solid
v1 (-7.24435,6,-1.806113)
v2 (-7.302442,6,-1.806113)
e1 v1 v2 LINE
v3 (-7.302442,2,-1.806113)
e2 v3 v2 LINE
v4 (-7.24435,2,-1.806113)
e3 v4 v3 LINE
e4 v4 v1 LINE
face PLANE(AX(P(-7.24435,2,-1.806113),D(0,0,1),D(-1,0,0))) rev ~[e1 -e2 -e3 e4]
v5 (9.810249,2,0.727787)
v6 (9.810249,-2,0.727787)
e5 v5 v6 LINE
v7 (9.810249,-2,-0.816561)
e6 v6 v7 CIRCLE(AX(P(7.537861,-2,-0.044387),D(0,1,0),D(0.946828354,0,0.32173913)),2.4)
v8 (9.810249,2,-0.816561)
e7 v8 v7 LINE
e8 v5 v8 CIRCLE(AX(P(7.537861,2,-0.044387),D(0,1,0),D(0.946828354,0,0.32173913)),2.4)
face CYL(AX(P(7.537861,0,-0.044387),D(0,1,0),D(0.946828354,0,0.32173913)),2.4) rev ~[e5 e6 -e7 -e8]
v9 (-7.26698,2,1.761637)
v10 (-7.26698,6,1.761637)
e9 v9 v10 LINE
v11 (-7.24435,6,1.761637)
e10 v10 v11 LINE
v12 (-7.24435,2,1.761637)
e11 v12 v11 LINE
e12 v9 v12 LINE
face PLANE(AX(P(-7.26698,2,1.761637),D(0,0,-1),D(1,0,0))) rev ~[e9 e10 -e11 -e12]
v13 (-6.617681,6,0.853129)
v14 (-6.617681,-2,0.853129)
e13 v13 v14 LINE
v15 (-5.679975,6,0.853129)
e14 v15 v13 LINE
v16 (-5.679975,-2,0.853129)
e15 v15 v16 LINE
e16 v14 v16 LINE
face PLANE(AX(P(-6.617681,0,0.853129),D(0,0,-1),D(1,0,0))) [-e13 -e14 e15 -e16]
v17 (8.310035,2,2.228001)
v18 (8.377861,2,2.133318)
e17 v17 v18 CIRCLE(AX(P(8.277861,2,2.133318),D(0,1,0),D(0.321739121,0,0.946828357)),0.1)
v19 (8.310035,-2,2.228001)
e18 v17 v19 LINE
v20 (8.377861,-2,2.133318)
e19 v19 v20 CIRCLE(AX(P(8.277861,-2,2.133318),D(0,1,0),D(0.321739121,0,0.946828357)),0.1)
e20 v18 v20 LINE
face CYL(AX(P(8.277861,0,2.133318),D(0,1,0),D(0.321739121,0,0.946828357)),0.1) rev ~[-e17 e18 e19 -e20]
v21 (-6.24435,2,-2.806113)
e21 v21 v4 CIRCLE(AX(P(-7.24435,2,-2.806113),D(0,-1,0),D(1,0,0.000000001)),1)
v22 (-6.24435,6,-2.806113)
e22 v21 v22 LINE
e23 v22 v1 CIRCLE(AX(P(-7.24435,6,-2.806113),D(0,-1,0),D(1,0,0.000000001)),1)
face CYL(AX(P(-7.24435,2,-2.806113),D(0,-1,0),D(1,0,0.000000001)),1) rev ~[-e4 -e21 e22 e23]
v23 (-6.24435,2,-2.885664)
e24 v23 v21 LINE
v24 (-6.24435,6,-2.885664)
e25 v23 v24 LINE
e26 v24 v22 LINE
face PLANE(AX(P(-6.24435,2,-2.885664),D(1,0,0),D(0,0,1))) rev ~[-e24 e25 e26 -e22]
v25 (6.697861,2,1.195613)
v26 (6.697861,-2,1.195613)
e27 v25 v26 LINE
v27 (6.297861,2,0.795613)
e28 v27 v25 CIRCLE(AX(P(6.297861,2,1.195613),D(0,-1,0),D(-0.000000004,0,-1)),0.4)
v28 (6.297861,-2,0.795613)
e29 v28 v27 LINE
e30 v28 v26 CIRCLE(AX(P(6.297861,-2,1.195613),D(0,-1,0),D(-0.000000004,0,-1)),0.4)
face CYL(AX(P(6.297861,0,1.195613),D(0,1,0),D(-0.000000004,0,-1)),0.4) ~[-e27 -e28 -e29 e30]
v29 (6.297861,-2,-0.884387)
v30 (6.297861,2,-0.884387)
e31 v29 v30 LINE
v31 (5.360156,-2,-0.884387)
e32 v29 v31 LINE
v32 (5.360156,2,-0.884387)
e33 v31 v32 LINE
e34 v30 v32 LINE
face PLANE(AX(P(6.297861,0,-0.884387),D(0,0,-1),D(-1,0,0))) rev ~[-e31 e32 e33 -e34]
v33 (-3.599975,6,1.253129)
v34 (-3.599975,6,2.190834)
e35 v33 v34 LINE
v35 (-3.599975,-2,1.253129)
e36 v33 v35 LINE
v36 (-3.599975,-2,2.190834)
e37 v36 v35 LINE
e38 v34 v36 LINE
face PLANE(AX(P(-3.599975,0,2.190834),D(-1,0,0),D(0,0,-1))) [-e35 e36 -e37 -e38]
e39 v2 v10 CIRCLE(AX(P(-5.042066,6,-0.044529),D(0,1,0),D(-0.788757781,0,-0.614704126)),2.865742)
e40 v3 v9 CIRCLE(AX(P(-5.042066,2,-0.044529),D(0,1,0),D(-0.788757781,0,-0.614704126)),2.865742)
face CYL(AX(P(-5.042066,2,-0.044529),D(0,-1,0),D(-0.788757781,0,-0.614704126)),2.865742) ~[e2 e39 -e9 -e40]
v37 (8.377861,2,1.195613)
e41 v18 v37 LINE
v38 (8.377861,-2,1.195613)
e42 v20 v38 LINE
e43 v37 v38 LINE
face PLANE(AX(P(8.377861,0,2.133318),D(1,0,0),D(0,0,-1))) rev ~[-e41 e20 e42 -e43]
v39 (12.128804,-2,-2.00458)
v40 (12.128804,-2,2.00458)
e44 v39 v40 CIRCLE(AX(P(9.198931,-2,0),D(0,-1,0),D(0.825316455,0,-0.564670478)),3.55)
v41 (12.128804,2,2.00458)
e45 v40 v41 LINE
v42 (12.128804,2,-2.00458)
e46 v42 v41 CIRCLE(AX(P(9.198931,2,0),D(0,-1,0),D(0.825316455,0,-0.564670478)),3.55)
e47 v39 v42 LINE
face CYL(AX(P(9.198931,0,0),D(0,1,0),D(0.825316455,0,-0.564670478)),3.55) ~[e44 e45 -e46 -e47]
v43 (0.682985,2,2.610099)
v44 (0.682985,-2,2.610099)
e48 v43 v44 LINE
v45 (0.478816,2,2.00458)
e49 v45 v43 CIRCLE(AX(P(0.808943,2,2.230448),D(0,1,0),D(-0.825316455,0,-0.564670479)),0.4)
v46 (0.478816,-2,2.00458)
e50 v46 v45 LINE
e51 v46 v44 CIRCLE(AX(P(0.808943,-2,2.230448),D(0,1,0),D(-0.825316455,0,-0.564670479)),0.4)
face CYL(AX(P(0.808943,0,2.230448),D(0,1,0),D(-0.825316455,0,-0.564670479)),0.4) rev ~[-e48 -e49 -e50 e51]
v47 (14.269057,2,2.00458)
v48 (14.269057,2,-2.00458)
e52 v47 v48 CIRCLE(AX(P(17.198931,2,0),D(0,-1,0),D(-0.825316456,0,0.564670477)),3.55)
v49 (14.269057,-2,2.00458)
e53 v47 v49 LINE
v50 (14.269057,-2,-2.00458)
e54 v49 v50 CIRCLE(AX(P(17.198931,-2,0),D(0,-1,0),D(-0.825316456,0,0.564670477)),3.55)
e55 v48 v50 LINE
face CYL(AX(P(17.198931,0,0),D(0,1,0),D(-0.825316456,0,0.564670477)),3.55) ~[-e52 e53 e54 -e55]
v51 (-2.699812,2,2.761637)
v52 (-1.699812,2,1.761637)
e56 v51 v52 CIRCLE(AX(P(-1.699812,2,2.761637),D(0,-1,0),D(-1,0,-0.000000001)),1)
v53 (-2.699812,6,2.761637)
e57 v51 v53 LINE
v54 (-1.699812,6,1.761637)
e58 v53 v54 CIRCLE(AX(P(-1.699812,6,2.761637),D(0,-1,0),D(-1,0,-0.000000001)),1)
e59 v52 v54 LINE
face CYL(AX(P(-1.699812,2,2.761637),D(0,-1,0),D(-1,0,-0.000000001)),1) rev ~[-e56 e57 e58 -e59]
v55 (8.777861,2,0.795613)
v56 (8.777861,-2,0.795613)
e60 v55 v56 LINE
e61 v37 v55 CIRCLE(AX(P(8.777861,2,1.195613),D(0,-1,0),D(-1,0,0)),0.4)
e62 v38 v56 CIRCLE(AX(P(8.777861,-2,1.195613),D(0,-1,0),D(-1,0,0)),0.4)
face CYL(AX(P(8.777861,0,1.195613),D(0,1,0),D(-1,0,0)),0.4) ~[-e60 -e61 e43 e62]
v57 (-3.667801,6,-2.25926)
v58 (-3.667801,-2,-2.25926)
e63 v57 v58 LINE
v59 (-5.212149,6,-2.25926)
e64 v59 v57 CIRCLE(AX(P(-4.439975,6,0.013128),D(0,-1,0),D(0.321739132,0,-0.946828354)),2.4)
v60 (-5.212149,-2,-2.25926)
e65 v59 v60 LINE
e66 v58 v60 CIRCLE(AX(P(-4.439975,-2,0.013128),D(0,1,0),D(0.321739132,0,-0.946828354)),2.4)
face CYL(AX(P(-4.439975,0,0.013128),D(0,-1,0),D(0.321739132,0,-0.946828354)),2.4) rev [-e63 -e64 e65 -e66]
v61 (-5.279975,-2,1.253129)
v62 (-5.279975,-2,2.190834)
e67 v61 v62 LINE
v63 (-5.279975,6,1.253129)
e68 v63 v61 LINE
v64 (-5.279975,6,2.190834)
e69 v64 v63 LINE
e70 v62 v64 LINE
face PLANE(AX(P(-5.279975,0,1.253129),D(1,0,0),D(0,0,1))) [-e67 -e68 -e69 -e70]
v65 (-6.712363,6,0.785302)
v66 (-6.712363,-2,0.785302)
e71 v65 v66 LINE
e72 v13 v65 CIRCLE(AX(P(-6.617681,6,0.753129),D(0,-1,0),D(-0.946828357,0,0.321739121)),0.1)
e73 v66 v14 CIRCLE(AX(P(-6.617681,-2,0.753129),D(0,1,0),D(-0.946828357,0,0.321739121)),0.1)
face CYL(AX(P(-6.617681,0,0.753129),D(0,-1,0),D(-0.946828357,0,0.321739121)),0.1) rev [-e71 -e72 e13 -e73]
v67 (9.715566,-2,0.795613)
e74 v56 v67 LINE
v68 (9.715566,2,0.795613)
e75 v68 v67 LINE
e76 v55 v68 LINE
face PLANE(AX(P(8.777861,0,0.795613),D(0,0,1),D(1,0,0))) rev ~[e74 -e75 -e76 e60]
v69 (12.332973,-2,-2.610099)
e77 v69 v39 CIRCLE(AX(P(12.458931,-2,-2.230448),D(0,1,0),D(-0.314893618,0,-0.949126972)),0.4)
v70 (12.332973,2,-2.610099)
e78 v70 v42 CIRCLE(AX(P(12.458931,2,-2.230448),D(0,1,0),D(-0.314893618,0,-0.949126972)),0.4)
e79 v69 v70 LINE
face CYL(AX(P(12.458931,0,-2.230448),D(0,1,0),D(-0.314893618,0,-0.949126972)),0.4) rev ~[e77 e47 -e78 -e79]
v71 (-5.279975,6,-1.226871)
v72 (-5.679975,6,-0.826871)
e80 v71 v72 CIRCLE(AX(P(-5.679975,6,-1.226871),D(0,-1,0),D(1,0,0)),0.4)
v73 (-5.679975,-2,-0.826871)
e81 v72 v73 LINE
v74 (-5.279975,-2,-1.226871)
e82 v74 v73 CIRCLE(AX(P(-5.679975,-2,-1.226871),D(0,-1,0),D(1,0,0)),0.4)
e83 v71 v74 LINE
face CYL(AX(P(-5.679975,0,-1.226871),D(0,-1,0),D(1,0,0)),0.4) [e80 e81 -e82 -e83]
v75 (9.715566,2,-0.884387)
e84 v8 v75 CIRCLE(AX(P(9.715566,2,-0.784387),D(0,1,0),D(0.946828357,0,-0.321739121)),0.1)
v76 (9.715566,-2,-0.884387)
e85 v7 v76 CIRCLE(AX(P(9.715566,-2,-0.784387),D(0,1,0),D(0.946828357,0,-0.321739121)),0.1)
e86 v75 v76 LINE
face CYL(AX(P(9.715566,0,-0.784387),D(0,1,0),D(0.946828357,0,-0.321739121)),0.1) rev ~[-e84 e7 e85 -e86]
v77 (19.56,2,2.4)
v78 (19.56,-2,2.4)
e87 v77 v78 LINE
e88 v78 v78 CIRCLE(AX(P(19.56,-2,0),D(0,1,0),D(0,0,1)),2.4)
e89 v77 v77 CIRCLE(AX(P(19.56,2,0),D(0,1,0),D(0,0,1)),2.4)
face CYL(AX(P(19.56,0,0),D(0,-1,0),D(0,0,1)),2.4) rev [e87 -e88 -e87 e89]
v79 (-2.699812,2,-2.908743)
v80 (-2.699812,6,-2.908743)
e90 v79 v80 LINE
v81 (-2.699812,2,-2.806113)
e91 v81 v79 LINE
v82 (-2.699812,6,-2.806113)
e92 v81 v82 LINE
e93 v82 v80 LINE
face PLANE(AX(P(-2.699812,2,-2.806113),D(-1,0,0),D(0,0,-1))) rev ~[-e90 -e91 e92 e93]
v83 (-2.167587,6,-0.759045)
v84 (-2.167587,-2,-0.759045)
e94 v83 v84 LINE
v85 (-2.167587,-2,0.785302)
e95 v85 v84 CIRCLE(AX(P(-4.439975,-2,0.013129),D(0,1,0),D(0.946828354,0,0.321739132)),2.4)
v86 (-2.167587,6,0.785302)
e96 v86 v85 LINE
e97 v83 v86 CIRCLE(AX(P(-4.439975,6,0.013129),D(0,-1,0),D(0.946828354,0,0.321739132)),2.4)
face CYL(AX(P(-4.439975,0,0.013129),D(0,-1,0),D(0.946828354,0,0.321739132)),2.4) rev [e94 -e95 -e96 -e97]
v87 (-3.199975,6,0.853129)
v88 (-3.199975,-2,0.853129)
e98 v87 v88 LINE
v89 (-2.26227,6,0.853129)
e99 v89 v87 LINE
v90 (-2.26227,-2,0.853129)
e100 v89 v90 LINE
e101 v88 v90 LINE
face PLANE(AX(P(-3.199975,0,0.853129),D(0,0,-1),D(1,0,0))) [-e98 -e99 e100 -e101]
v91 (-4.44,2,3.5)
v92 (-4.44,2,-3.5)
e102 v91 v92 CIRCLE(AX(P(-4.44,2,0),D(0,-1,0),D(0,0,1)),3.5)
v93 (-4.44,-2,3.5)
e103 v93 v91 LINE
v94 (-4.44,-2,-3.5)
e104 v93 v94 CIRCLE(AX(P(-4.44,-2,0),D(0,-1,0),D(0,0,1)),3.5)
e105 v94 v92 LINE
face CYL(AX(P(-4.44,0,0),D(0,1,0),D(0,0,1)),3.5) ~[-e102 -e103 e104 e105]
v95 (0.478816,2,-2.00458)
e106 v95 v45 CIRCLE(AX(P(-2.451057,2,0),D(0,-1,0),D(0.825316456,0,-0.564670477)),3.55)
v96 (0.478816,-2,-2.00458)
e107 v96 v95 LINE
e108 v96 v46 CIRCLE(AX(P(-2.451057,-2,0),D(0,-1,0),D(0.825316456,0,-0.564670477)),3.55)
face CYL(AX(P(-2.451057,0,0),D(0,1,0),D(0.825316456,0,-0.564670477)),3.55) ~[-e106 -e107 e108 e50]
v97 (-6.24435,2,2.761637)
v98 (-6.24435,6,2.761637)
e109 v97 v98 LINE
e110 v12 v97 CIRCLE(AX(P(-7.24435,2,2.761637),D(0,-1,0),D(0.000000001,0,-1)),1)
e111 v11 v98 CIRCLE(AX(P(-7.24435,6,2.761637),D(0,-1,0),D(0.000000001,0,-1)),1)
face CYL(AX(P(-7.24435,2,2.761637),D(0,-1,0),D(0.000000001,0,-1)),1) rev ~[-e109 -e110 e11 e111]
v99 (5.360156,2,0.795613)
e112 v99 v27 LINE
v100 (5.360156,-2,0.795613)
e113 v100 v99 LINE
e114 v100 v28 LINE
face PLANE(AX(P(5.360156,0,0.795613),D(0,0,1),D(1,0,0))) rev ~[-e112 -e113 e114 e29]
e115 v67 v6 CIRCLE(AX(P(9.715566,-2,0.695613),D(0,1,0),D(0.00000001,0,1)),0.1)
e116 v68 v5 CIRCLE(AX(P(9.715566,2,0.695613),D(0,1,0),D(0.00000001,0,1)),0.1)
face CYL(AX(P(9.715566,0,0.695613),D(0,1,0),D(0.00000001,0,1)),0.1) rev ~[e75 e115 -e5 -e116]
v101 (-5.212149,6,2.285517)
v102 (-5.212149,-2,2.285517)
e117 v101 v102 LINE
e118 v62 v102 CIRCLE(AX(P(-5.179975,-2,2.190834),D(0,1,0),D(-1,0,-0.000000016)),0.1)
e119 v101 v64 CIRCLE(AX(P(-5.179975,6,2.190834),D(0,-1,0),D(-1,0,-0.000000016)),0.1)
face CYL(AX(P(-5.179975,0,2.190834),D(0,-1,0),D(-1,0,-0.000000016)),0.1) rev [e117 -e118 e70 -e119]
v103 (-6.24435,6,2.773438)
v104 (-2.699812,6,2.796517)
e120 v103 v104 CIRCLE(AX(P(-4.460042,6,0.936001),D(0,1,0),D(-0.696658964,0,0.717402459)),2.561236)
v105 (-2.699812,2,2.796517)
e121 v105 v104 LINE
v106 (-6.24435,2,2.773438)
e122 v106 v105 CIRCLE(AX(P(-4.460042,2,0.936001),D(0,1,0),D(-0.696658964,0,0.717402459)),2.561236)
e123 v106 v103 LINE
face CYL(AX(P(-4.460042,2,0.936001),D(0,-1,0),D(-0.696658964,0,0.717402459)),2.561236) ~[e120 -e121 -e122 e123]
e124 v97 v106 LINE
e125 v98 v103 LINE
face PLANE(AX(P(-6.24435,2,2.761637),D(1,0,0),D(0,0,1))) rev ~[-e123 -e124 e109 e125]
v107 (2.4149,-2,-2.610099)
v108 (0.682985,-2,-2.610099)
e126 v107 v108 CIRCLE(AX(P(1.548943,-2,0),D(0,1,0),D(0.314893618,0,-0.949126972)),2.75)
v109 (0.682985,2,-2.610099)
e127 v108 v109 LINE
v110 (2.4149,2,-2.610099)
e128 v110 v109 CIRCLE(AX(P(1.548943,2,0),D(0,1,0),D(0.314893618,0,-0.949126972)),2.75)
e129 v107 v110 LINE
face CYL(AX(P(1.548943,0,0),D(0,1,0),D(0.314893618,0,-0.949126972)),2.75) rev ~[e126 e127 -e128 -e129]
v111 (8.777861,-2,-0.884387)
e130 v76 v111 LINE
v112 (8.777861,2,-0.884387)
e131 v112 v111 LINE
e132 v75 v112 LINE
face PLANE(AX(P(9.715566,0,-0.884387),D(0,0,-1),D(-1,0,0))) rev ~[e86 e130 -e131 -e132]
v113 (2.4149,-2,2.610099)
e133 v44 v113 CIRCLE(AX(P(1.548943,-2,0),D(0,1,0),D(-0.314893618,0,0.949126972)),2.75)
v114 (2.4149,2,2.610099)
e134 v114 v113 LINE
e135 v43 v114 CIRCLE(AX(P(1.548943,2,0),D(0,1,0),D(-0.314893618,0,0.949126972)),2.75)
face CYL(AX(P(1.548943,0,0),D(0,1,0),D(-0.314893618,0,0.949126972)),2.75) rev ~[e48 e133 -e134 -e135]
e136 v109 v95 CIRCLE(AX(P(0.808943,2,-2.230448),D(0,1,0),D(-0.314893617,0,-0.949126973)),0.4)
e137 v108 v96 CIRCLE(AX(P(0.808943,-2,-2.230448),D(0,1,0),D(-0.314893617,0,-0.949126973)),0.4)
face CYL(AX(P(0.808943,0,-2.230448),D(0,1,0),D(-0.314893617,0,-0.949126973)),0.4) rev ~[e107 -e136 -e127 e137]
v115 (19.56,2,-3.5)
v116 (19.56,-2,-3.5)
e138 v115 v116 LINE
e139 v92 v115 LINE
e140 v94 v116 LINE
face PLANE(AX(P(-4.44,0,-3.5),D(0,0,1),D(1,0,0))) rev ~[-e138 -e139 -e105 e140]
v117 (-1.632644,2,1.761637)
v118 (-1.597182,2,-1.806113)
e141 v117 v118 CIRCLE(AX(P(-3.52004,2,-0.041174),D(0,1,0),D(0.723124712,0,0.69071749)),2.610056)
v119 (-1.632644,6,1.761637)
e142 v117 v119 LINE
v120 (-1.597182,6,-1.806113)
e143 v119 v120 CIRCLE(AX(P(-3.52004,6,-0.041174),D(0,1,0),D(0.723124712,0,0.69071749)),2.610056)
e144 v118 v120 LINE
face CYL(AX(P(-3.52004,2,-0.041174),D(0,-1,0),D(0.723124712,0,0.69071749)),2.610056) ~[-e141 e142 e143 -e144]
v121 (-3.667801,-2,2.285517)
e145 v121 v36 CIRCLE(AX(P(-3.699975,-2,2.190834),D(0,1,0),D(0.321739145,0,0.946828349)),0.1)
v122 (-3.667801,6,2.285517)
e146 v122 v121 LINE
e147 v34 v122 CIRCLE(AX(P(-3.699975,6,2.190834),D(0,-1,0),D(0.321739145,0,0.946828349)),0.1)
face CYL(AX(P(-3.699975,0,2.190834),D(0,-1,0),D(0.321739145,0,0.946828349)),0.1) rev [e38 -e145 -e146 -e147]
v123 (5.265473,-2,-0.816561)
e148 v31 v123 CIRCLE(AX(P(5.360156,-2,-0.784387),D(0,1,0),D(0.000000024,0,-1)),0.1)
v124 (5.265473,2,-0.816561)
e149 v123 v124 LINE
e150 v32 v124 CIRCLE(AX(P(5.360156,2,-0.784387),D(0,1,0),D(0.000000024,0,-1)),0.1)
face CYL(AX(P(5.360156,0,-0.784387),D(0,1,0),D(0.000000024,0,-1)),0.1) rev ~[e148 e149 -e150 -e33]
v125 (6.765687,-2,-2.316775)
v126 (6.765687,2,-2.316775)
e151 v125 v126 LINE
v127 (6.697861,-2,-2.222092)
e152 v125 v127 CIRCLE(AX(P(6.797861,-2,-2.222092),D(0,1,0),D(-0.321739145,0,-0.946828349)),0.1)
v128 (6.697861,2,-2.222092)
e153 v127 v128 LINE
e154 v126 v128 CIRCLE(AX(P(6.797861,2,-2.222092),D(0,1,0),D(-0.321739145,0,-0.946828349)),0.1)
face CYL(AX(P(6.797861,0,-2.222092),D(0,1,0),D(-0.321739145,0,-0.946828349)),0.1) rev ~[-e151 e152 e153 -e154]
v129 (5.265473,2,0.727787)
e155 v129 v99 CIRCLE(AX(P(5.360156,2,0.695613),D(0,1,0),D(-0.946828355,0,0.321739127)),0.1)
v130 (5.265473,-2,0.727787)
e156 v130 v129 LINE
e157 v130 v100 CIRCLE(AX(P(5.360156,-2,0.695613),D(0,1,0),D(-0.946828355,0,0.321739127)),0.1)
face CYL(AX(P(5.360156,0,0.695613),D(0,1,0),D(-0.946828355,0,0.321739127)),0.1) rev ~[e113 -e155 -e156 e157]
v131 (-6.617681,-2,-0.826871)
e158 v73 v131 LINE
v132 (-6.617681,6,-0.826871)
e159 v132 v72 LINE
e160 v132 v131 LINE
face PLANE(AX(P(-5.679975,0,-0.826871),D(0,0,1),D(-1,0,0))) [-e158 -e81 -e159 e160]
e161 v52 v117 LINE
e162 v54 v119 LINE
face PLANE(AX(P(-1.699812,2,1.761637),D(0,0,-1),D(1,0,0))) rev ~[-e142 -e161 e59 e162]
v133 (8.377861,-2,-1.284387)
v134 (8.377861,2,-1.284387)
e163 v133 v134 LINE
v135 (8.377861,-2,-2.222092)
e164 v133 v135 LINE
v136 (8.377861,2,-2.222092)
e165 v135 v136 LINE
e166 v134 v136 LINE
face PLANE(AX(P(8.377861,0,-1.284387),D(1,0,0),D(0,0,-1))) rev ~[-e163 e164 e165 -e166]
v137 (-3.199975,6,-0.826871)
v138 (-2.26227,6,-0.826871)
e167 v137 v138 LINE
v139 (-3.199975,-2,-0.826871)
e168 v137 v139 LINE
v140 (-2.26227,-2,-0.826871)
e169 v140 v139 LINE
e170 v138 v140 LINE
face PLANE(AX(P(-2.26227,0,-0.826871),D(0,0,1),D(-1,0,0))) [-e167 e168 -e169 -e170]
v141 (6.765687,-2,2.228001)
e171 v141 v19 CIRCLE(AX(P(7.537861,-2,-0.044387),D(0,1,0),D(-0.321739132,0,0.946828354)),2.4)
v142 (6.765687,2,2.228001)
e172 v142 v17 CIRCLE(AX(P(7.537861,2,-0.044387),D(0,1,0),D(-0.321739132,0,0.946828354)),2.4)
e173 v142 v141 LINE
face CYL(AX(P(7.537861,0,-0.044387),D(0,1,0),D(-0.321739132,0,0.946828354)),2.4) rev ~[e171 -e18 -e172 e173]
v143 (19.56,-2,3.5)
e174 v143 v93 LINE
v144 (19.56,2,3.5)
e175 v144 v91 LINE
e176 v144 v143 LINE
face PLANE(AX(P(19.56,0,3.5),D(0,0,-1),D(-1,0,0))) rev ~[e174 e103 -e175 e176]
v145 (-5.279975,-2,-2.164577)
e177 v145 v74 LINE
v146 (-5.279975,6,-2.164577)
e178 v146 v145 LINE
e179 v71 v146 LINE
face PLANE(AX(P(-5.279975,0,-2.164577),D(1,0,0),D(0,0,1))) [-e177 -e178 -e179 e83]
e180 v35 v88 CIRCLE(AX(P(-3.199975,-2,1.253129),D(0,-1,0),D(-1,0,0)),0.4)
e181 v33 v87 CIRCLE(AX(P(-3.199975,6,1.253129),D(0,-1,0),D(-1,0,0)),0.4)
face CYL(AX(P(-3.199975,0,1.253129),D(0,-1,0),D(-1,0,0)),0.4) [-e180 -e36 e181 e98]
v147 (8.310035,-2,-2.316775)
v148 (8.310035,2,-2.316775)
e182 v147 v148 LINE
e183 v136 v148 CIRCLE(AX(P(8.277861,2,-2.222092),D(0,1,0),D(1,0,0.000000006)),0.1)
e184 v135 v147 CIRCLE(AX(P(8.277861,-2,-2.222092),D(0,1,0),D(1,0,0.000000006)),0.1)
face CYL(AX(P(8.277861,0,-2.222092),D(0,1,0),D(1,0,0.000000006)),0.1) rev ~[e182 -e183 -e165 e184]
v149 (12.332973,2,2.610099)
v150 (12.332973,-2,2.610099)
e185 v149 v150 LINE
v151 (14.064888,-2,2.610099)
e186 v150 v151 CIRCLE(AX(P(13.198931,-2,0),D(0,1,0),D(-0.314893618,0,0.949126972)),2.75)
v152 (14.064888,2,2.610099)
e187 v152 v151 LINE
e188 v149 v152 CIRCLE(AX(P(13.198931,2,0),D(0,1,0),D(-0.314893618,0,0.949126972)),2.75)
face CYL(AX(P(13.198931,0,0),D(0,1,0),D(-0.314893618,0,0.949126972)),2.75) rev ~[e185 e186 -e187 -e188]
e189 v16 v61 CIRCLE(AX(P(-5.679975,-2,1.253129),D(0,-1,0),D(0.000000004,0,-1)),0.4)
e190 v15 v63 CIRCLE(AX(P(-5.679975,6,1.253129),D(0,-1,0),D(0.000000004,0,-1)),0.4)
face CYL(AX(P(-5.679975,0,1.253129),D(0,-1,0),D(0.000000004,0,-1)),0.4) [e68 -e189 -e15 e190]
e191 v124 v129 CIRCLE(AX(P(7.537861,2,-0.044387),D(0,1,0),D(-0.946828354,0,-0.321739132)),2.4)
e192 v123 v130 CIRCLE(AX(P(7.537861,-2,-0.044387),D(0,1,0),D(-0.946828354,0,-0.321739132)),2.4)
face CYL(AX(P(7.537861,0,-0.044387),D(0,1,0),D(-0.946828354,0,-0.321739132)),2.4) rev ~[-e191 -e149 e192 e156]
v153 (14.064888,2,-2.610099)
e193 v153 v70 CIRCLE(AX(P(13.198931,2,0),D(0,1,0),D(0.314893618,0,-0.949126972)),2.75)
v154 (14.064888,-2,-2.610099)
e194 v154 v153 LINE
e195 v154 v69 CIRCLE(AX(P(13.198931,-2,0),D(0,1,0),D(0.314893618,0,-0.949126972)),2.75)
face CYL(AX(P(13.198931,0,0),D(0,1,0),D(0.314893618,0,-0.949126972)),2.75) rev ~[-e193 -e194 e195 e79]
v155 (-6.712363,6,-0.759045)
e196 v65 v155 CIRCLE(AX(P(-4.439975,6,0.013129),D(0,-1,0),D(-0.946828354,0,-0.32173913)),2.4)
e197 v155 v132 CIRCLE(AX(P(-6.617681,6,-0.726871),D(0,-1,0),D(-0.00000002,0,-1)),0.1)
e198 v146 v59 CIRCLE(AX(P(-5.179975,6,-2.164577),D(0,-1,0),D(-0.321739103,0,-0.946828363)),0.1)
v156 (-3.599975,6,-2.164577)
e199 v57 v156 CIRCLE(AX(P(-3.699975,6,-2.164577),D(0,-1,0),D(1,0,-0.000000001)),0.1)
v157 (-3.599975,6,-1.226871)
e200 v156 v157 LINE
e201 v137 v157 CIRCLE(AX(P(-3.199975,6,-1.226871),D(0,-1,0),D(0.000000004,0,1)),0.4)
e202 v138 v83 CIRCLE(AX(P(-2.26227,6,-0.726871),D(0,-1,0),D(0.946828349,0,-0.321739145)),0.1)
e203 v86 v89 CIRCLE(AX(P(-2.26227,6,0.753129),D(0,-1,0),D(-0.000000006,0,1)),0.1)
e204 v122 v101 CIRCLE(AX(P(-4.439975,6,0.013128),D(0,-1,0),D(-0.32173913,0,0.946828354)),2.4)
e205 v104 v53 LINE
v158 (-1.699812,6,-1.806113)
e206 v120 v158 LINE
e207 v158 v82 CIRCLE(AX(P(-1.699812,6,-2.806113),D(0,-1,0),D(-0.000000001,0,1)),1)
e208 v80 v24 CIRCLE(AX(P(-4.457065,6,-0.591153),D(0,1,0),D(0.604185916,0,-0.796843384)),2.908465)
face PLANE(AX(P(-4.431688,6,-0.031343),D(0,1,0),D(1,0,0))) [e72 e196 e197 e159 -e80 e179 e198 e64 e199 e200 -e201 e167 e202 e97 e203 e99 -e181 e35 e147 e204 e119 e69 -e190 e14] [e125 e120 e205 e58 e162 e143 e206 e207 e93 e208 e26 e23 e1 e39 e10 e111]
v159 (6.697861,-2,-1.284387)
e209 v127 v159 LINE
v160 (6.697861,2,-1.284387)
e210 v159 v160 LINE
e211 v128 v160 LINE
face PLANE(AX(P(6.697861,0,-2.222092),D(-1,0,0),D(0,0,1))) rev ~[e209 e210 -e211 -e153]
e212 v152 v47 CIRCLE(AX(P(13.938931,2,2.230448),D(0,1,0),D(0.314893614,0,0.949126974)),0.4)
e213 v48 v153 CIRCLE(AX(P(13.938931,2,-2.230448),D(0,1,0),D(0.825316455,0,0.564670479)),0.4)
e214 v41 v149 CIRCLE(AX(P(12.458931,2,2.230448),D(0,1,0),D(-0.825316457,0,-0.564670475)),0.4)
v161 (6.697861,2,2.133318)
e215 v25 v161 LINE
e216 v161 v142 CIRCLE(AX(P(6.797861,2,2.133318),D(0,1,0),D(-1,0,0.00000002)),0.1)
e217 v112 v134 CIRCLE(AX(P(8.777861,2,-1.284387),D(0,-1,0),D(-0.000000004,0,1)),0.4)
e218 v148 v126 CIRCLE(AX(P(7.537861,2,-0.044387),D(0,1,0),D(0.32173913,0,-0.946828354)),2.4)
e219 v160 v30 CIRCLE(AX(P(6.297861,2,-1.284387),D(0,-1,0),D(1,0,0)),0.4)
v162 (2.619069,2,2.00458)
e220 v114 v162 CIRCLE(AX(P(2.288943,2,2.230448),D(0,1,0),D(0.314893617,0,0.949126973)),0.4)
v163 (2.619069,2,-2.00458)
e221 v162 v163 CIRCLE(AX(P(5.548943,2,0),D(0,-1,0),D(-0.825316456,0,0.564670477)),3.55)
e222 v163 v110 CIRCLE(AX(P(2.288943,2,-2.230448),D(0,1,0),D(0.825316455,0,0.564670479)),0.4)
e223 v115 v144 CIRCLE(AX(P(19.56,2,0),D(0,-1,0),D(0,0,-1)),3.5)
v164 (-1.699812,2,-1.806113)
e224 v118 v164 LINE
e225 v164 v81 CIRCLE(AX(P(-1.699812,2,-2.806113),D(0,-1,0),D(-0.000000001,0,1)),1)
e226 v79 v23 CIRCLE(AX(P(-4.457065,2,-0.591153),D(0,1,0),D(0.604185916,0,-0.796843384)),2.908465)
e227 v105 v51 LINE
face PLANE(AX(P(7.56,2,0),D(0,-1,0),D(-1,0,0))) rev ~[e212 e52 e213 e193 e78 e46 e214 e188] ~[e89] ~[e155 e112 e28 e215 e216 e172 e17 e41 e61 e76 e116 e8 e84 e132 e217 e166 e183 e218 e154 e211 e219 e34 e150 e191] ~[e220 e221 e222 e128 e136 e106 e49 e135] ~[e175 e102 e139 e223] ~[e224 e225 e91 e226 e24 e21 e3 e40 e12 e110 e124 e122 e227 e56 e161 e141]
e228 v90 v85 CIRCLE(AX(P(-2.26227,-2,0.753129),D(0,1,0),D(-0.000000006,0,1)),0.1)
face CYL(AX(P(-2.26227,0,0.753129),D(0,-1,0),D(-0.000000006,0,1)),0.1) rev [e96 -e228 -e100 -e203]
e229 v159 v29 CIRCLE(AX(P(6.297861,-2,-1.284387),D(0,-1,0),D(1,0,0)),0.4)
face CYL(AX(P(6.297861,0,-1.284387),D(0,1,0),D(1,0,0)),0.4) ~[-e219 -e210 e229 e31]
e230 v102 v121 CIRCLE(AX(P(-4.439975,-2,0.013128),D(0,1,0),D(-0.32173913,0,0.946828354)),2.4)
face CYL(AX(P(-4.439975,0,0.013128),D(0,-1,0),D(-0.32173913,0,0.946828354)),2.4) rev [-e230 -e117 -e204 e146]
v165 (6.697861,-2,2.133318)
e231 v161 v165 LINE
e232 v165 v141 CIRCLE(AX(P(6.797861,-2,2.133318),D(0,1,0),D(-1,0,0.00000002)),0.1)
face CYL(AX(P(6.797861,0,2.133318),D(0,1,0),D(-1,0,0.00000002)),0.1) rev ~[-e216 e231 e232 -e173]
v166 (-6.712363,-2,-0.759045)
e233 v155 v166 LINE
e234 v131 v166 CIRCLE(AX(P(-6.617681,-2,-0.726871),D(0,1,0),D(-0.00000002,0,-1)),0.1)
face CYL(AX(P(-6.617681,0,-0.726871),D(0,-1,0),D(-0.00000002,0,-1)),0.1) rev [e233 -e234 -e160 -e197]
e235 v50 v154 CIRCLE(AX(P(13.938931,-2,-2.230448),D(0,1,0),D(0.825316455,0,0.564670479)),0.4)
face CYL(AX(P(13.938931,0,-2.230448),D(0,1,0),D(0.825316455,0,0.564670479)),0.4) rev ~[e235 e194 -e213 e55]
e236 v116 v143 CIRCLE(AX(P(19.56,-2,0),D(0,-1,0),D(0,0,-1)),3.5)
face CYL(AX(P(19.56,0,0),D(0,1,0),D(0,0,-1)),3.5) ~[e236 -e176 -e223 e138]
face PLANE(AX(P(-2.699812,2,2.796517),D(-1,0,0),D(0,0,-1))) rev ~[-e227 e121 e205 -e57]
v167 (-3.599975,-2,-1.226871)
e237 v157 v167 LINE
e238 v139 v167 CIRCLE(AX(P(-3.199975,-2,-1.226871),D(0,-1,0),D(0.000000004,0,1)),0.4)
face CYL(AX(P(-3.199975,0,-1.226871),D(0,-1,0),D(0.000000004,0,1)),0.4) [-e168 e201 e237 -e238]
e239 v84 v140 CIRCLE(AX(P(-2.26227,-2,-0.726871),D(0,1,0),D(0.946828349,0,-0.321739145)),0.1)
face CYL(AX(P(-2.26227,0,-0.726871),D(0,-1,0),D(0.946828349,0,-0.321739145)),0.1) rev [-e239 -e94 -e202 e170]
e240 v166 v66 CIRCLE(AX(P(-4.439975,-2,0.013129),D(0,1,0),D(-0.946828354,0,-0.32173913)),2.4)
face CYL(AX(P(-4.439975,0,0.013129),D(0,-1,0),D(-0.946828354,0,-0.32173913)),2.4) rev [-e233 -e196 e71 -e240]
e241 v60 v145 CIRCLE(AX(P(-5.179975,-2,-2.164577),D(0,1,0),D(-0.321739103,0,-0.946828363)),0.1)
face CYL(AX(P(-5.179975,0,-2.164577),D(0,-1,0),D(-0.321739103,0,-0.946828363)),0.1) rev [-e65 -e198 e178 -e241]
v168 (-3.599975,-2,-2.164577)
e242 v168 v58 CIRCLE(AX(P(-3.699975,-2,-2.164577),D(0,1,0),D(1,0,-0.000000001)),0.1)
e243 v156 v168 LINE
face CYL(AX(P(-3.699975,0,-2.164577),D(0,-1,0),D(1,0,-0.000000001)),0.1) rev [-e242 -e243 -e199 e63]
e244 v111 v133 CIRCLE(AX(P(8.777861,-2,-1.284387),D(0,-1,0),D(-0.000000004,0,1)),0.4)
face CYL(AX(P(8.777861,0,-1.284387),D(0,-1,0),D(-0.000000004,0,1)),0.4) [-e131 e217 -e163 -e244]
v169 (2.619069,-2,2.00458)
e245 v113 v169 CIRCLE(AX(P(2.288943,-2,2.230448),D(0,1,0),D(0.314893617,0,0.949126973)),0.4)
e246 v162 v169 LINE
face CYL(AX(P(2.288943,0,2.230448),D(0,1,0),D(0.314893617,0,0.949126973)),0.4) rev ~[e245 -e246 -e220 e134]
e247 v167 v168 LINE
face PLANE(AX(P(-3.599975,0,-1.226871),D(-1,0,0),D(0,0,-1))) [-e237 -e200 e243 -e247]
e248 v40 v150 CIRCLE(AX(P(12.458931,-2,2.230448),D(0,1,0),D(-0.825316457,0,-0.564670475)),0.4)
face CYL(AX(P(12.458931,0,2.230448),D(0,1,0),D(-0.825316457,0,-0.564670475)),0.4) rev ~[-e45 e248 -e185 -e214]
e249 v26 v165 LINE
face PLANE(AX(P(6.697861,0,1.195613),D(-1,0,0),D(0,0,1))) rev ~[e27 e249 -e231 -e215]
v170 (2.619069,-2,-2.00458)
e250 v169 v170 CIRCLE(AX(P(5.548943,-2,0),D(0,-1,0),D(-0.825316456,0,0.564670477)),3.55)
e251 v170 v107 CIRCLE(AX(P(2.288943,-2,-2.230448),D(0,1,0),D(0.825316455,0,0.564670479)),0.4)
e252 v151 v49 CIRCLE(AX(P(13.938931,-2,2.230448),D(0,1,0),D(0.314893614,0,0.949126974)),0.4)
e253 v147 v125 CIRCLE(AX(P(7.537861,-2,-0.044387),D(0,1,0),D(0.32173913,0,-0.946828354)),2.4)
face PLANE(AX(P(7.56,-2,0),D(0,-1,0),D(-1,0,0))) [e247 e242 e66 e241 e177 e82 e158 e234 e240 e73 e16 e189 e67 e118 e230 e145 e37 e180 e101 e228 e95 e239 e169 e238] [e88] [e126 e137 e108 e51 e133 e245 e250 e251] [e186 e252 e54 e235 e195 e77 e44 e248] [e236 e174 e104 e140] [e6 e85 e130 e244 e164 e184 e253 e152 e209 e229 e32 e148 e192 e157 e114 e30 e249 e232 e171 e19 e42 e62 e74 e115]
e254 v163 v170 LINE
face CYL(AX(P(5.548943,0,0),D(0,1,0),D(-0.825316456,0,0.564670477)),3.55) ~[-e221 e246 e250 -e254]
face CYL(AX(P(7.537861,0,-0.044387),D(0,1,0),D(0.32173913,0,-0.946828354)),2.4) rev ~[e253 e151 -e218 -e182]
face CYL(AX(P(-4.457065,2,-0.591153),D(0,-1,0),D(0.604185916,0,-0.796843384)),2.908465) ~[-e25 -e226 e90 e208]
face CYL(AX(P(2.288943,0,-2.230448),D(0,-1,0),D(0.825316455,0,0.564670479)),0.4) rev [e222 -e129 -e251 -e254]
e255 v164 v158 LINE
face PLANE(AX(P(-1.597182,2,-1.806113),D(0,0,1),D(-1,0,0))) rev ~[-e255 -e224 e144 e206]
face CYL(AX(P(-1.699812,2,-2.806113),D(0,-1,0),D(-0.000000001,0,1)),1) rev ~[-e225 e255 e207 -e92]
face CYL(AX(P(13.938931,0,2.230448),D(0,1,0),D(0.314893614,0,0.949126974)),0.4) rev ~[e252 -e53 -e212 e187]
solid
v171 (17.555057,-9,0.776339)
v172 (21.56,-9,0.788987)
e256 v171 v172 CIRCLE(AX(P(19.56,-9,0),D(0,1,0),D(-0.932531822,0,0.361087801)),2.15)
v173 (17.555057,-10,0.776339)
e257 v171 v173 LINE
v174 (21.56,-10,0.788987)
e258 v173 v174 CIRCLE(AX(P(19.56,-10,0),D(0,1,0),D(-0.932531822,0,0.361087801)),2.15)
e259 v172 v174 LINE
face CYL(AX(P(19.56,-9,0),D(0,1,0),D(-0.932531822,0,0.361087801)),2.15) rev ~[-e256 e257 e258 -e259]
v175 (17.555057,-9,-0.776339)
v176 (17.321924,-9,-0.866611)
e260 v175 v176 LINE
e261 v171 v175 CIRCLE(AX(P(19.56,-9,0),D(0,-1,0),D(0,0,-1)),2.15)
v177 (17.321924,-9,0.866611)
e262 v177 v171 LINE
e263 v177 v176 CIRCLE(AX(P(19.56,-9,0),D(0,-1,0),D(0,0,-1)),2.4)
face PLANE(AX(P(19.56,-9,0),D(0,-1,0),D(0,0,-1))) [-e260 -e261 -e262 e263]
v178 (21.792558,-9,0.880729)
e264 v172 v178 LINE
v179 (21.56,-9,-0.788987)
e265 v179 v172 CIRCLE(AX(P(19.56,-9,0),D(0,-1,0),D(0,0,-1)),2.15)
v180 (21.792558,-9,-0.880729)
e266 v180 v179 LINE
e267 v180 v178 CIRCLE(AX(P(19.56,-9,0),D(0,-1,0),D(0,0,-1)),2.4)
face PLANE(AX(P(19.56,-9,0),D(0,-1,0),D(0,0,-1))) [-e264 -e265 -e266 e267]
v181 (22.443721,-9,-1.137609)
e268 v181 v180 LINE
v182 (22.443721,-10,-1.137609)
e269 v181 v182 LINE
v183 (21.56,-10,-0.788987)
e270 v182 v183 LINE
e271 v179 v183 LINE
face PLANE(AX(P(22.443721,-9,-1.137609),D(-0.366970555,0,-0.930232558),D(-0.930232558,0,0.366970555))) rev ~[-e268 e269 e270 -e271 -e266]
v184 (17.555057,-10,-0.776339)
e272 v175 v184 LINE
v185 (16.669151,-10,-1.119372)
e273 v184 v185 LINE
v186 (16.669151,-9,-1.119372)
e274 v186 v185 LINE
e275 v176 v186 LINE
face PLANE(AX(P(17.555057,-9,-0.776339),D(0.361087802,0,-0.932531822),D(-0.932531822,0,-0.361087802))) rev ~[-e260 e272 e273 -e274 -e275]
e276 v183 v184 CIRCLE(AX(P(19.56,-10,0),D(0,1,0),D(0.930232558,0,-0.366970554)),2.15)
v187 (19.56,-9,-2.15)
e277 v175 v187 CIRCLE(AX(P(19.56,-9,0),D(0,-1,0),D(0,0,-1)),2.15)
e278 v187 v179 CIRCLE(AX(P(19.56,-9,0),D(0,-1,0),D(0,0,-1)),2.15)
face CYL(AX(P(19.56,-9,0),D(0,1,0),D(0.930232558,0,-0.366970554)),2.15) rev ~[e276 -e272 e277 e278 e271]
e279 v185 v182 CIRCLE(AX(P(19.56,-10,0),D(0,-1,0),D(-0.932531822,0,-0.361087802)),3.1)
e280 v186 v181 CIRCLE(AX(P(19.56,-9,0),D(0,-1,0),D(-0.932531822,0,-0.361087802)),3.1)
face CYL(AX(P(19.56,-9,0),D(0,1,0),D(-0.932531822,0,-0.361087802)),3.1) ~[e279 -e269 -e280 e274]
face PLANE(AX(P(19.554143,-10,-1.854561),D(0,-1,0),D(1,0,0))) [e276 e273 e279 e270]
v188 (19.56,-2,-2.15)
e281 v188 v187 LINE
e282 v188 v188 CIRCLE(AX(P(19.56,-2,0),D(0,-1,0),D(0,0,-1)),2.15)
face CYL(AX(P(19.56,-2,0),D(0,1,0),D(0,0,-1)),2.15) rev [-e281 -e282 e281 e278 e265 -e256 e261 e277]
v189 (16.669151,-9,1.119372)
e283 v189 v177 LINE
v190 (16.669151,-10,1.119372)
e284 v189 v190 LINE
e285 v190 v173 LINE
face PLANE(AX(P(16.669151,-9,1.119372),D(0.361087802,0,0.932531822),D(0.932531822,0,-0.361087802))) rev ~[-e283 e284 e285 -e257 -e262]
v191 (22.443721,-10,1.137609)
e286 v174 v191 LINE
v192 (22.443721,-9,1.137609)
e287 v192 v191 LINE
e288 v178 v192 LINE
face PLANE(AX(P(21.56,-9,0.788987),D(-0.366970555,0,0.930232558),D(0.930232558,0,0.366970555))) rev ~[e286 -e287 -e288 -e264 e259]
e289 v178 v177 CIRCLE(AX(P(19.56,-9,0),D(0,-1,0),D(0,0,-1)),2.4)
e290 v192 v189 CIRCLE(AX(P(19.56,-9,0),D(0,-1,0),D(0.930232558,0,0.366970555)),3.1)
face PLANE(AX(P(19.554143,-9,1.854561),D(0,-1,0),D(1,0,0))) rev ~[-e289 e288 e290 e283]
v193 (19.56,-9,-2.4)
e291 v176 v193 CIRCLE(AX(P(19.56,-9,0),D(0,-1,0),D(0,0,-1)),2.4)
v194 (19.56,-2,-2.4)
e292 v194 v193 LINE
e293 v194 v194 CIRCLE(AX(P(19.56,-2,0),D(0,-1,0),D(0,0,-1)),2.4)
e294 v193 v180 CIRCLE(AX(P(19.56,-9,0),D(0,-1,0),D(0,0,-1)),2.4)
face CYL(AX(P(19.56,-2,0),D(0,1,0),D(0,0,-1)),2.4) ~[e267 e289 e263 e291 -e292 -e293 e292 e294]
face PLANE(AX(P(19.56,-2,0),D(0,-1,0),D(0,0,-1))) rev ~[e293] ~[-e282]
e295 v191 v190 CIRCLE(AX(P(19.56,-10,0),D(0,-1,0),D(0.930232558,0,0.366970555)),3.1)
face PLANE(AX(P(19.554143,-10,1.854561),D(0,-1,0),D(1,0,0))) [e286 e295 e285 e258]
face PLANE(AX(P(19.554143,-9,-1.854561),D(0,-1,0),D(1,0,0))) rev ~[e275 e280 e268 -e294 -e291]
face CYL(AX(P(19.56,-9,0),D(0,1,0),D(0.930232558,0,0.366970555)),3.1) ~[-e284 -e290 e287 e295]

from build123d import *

# Parameters (mm, degrees)
SKETCH2_R           = 2.4
BOSS_EXTRUDE1_DEPTH = 2
BOSS_EXTRUDE2_DEPTH = 4
SKETCH2_2_OUTSIDE_W = 39.554
SKETCH2_2_OUTSIDE_H = 15.554
SKETCH2_2_OUTSIDE_R = 2.4
CUT_EXTRUDE1_DEPTH  = 8
SKETCH5_R           = 2.4
SKETCH5_R_2         = 2.15
BOSS_EXTRUDE3_DEPTH = 7
BOSS_EXTRUDE4_DEPTH = 1


with BuildPart() as part:
    # Sketch2 → Boss-Extrude1 (new, symmetric)
    with BuildSketch(Plane(origin=(0, 0, 0), x_dir=(1, 0, 0), z_dir=(0, 1, 0))):
        with BuildLine():
            Line((-4.44, 3.5), (19.56, 3.5))
            ThreePointArc((19.56, 3.5), (23.06, 0), (19.56, -3.5))
            Line((19.56, -3.5), (-4.44, -3.5))
            ThreePointArc((-4.44, -3.5), (-7.94, 0), (-4.44, 3.5))
        make_face()
        with Locations((19.56, 0)):
            Circle(SKETCH2_R, mode=Mode.SUBTRACT)
        with BuildLine():
            Line((-5.279975377, -1.253128504), (-5.279975377, -2.190833718))
            ThreePointArc((-5.279975377, -2.190833718), (-5.261269262, -2.249068625), (-5.21214929, -2.285516554))
            ThreePointArc((-5.21214929, -2.285516554), (-4.439975377, -2.413128504), (-3.667801464, -2.285516554))
            ThreePointArc((-3.667801464, -2.285516554), (-3.618681493, -2.249068625), (-3.599975377, -2.190833718))
            Line((-3.599975377, -2.190833718), (-3.599975377, -1.253128504))
            ThreePointArc((-3.599975377, -1.253128504), (-3.48281809, -0.970285792), (-3.199975377, -0.853128504))
            Line((-3.199975377, -0.853128504), (-2.262270163, -0.853128504))
            ThreePointArc((-2.262270163, -0.853128504), (-2.204035257, -0.834422389), (-2.167587328, -0.785302417))
            ThreePointArc((-2.167587328, -0.785302417), (-2.039975377, -0.013128504), (-2.167587328, 0.759045409))
            ThreePointArc((-2.167587328, 0.759045409), (-2.204035257, 0.80816538), (-2.262270163, 0.826871496))
            Line((-2.262270163, 0.826871496), (-3.199975377, 0.826871496))
            ThreePointArc((-3.199975377, 0.826871496), (-3.48281809, 0.944028783), (-3.599975377, 1.226871496))
            Line((-3.599975377, 1.226871496), (-3.599975377, 2.16457671))
            ThreePointArc((-3.599975377, 2.16457671), (-3.618681493, 2.222811617), (-3.667801464, 2.259259545))
            ThreePointArc((-3.667801464, 2.259259545), (-4.439975377, 2.386871496), (-5.21214929, 2.259259545))
            ThreePointArc((-5.21214929, 2.259259545), (-5.261269262, 2.222811617), (-5.279975377, 2.16457671))
            Line((-5.279975377, 2.16457671), (-5.279975377, 1.226871496))
            ThreePointArc((-5.279975377, 1.226871496), (-5.397132665, 0.944028783), (-5.679975377, 0.826871496))
            Line((-5.679975377, 0.826871496), (-6.617680592, 0.826871496))
            ThreePointArc((-6.617680592, 0.826871496), (-6.675915498, 0.80816538), (-6.712363427, 0.759045409))
            ThreePointArc((-6.712363427, 0.759045409), (-6.839975377, -0.013128504), (-6.712363427, -0.785302417))
            ThreePointArc((-6.712363427, -0.785302417), (-6.675915498, -0.834422389), (-6.617680592, -0.853128504))
            Line((-6.617680592, -0.853128504), (-5.679975377, -0.853128504))
            ThreePointArc((-5.679975377, -0.853128504), (-5.397132665, -0.970285792), (-5.279975377, -1.253128504))
        make_face(mode=Mode.SUBTRACT)
        with BuildLine():
            Line((6.697861167, -1.195612727), (6.697861167, -2.133317941))
            ThreePointArc((6.697861167, -2.133317941), (6.716567283, -2.191552847), (6.765687254, -2.228000776))
            ThreePointArc((6.765687254, -2.228000776), (7.537861167, -2.355612727), (8.31003508, -2.228000776))
            ThreePointArc((8.31003508, -2.228000776), (8.359155052, -2.191552847), (8.377861167, -2.133317941))
            Line((8.377861167, -2.133317941), (8.377861167, -1.195612727))
            ThreePointArc((8.377861167, -1.195612727), (8.495018455, -0.912770014), (8.777861167, -0.795612727))
            Line((8.777861167, -0.795612727), (9.715566381, -0.795612727))
            ThreePointArc((9.715566381, -0.795612727), (9.773801288, -0.776906611), (9.810249217, -0.72778664))
            ThreePointArc((9.810249217, -0.72778664), (9.937861167, 0.044387273), (9.810249217, 0.816561186))
            ThreePointArc((9.810249217, 0.816561186), (9.773801288, 0.865681158), (9.715566381, 0.884387273))
            Line((9.715566381, 0.884387273), (8.777861167, 0.884387273))
            ThreePointArc((8.777861167, 0.884387273), (8.495018455, 1.001544561), (8.377861167, 1.284387273))
            Line((8.377861167, 1.284387273), (8.377861167, 2.222092488))
            ThreePointArc((8.377861167, 2.222092488), (8.359155052, 2.280327394), (8.31003508, 2.316775323))
            ThreePointArc((8.31003508, 2.316775323), (7.537861167, 2.444387273), (6.765687254, 2.316775323))
            ThreePointArc((6.765687254, 2.316775323), (6.716567283, 2.280327394), (6.697861167, 2.222092488))
            Line((6.697861167, 2.222092488), (6.697861167, 1.284387273))
            ThreePointArc((6.697861167, 1.284387273), (6.58070388, 1.001544561), (6.297861167, 0.884387273))
            Line((6.297861167, 0.884387273), (5.360155953, 0.884387273))
            ThreePointArc((5.360155953, 0.884387273), (5.301921046, 0.865681158), (5.265473118, 0.816561186))
            ThreePointArc((5.265473118, 0.816561186), (5.137861167, 0.044387273), (5.265473118, -0.72778664))
            ThreePointArc((5.265473118, -0.72778664), (5.301921046, -0.776906611), (5.360155953, -0.795612727))
            Line((5.360155953, -0.795612727), (6.297861167, -0.795612727))
            ThreePointArc((6.297861167, -0.795612727), (6.58070388, -0.912770014), (6.697861167, -1.195612727))
        make_face(mode=Mode.SUBTRACT)
        with BuildLine():
            ThreePointArc((0.682985448, -2.610099174), (1.548942895, -2.75), (2.414900342, -2.610099174))
            ThreePointArc((2.414900342, -2.610099174), (2.667976494, -2.358251088), (2.619069477, -2.004580194))
            ThreePointArc((2.619069477, -2.004580194), (1.998942895, 0), (2.619069477, 2.004580194))
            ThreePointArc((2.619069477, 2.004580194), (2.667976494, 2.358251088), (2.414900342, 2.610099174))
            ThreePointArc((2.414900342, 2.610099174), (1.548942895, 2.75), (0.682985448, 2.610099174))
            ThreePointArc((0.682985448, 2.610099174), (0.429909296, 2.358251088), (0.478816313, 2.004580194))
            ThreePointArc((0.478816313, 2.004580194), (1.098942895, 0), (0.478816313, -2.004580194))
            ThreePointArc((0.478816313, -2.004580194), (0.429909296, -2.358251088), (0.682985448, -2.610099174))
        make_face(mode=Mode.SUBTRACT)
        with BuildLine():
            ThreePointArc((12.332973137, -2.610099174), (13.198930584, -2.75), (14.06488803, -2.610099174))
            ThreePointArc((14.06488803, -2.610099174), (14.317964183, -2.358251088), (14.269057166, -2.004580194))
            ThreePointArc((14.269057166, -2.004580194), (13.648930584, 0), (14.269057166, 2.004580194))
            ThreePointArc((14.269057166, 2.004580194), (14.317964183, 2.358251088), (14.06488803, 2.610099174))
            ThreePointArc((14.06488803, 2.610099174), (13.198930584, 2.75), (12.332973137, 2.610099174))
            ThreePointArc((12.332973137, 2.610099174), (12.079896985, 2.358251088), (12.128804001, 2.004580194))
            ThreePointArc((12.128804001, 2.004580194), (12.748930584, 0), (12.128804001, -2.004580194))
            ThreePointArc((12.128804001, -2.004580194), (12.079896985, -2.358251088), (12.332973137, -2.610099174))
        make_face(mode=Mode.SUBTRACT)
    extrude(amount=BOSS_EXTRUDE1_DEPTH, both=True)

    # Sketch3 → Boss-Extrude2 (add)
    with BuildSketch(Plane(origin=(0, 2, 0), x_dir=(1, 0, 0), z_dir=(0, 1, 0))):
        with BuildLine():
            Line((-2.699812111, 2.806112945), (-2.699812111, 2.90874331))
            ThreePointArc((-2.699812111, 2.90874331), (-4.476002964, 3.49955548), (-6.244349616, 2.88566373))
            Line((-6.244349616, 2.88566373), (-6.244349616, 2.806112945))
            ThreePointArc((-6.244349616, 2.806112945), (-6.537242835, 2.099006164), (-7.244349616, 1.806112945))
            Line((-7.244349616, 1.806112945), (-7.302442476, 1.806112945))
            ThreePointArc((-7.302442476, 1.806112945), (-7.907666717, 0.01604592), (-7.26697999, -1.761637082))
            Line((-7.26697999, -1.761637082), (-7.244349616, -1.761637082))
            ThreePointArc((-7.244349616, -1.761637082), (-6.537242835, -2.054530301), (-6.244349616, -2.761637082))
            Line((-6.244349616, -2.761637082), (-6.244349616, -2.77343784))
            ThreePointArc((-6.244349616, -2.77343784), (-4.47671825, -3.497182541), (-2.699812111, -2.79651742))
            Line((-2.699812111, -2.79651742), (-2.699812111, -2.761637082))
            ThreePointArc((-2.699812111, -2.761637082), (-2.406918892, -2.054530301), (-1.699812111, -1.761637082))
            Line((-1.699812111, -1.761637082), (-1.632644233, -1.761637082))
            ThreePointArc((-1.632644233, -1.761637082), (-0.910113093, 0.015232408), (-1.597181746, 1.806112945))
            Line((-1.597181746, 1.806112945), (-1.699812111, 1.806112945))
            ThreePointArc((-1.699812111, 1.806112945), (-2.406918892, 2.099006164), (-2.699812111, 2.806112945))
        make_face()
    extrude(amount=BOSS_EXTRUDE2_DEPTH)

    # Sketch2<2> outside → Cut-Extrude1 (cut)
    # profile 1 of 6: a face of its own
    with BuildSketch(Plane(origin=(0, 0, 0), x_dir=(1, 0, 0), z_dir=(0, 1, 0))):
        with Locations((7.56, 0)):
            Rectangle(SKETCH2_2_OUTSIDE_W, SKETCH2_2_OUTSIDE_H)
        with BuildLine():
            Line((-4.44, 3.5), (19.56, 3.5))
            ThreePointArc((19.56, 3.5), (23.06, 0), (19.56, -3.5))
            Line((19.56, -3.5), (-4.44, -3.5))
            ThreePointArc((-4.44, -3.5), (-7.94, 0), (-4.44, 3.5))
        make_face(mode=Mode.SUBTRACT)
    # profile 2 of 6: a face of its own
    with BuildSketch(Plane(origin=(0, 0, 0), x_dir=(1, 0, 0), z_dir=(0, 1, 0))):
        with Locations((19.56, 0)):
            Circle(SKETCH2_2_OUTSIDE_R)
    # profile 3 of 6: a face of its own
    with BuildSketch(Plane(origin=(0, 0, 0), x_dir=(1, 0, 0), z_dir=(0, 1, 0))):
        with BuildLine():
            Line((-5.279975377, -1.253128504), (-5.279975377, -2.190833718))
            ThreePointArc((-5.279975377, -2.190833718), (-5.261269262, -2.249068625), (-5.21214929, -2.285516554))
            ThreePointArc((-5.21214929, -2.285516554), (-4.439975377, -2.413128504), (-3.667801464, -2.285516554))
            ThreePointArc((-3.667801464, -2.285516554), (-3.618681493, -2.249068625), (-3.599975377, -2.190833718))
            Line((-3.599975377, -2.190833718), (-3.599975377, -1.253128504))
            ThreePointArc((-3.599975377, -1.253128504), (-3.48281809, -0.970285792), (-3.199975377, -0.853128504))
            Line((-3.199975377, -0.853128504), (-2.262270163, -0.853128504))
            ThreePointArc((-2.262270163, -0.853128504), (-2.204035257, -0.834422389), (-2.167587328, -0.785302417))
            ThreePointArc((-2.167587328, -0.785302417), (-2.039975377, -0.013128504), (-2.167587328, 0.759045409))
            ThreePointArc((-2.167587328, 0.759045409), (-2.204035257, 0.80816538), (-2.262270163, 0.826871496))
            Line((-2.262270163, 0.826871496), (-3.199975377, 0.826871496))
            ThreePointArc((-3.199975377, 0.826871496), (-3.48281809, 0.944028783), (-3.599975377, 1.226871496))
            Line((-3.599975377, 1.226871496), (-3.599975377, 2.16457671))
            ThreePointArc((-3.599975377, 2.16457671), (-3.618681493, 2.222811617), (-3.667801464, 2.259259545))
            ThreePointArc((-3.667801464, 2.259259545), (-4.439975377, 2.386871496), (-5.21214929, 2.259259545))
            ThreePointArc((-5.21214929, 2.259259545), (-5.261269262, 2.222811617), (-5.279975377, 2.16457671))
            Line((-5.279975377, 2.16457671), (-5.279975377, 1.226871496))
            ThreePointArc((-5.279975377, 1.226871496), (-5.397132665, 0.944028783), (-5.679975377, 0.826871496))
            Line((-5.679975377, 0.826871496), (-6.617680592, 0.826871496))
            ThreePointArc((-6.617680592, 0.826871496), (-6.675915498, 0.80816538), (-6.712363427, 0.759045409))
            ThreePointArc((-6.712363427, 0.759045409), (-6.839975377, -0.013128504), (-6.712363427, -0.785302417))
            ThreePointArc((-6.712363427, -0.785302417), (-6.675915498, -0.834422389), (-6.617680592, -0.853128504))
            Line((-6.617680592, -0.853128504), (-5.679975377, -0.853128504))
            ThreePointArc((-5.679975377, -0.853128504), (-5.397132665, -0.970285792), (-5.279975377, -1.253128504))
        make_face()
    # profile 4 of 6: a face of its own
    with BuildSketch(Plane(origin=(0, 0, 0), x_dir=(1, 0, 0), z_dir=(0, 1, 0))):
        with BuildLine():
            Line((6.697861167, -1.195612727), (6.697861167, -2.133317941))
            ThreePointArc((6.697861167, -2.133317941), (6.716567283, -2.191552847), (6.765687254, -2.228000776))
            ThreePointArc((6.765687254, -2.228000776), (7.537861167, -2.355612727), (8.31003508, -2.228000776))
            ThreePointArc((8.31003508, -2.228000776), (8.359155052, -2.191552847), (8.377861167, -2.133317941))
            Line((8.377861167, -2.133317941), (8.377861167, -1.195612727))
            ThreePointArc((8.377861167, -1.195612727), (8.495018455, -0.912770014), (8.777861167, -0.795612727))
            Line((8.777861167, -0.795612727), (9.715566381, -0.795612727))
            ThreePointArc((9.715566381, -0.795612727), (9.773801288, -0.776906611), (9.810249217, -0.72778664))
            ThreePointArc((9.810249217, -0.72778664), (9.937861167, 0.044387273), (9.810249217, 0.816561186))
            ThreePointArc((9.810249217, 0.816561186), (9.773801288, 0.865681158), (9.715566381, 0.884387273))
            Line((9.715566381, 0.884387273), (8.777861167, 0.884387273))
            ThreePointArc((8.777861167, 0.884387273), (8.495018455, 1.001544561), (8.377861167, 1.284387273))
            Line((8.377861167, 1.284387273), (8.377861167, 2.222092488))
            ThreePointArc((8.377861167, 2.222092488), (8.359155052, 2.280327394), (8.31003508, 2.316775323))
            ThreePointArc((8.31003508, 2.316775323), (7.537861167, 2.444387273), (6.765687254, 2.316775323))
            ThreePointArc((6.765687254, 2.316775323), (6.716567283, 2.280327394), (6.697861167, 2.222092488))
            Line((6.697861167, 2.222092488), (6.697861167, 1.284387273))
            ThreePointArc((6.697861167, 1.284387273), (6.58070388, 1.001544561), (6.297861167, 0.884387273))
            Line((6.297861167, 0.884387273), (5.360155953, 0.884387273))
            ThreePointArc((5.360155953, 0.884387273), (5.301921046, 0.865681158), (5.265473118, 0.816561186))
            ThreePointArc((5.265473118, 0.816561186), (5.137861167, 0.044387273), (5.265473118, -0.72778664))
            ThreePointArc((5.265473118, -0.72778664), (5.301921046, -0.776906611), (5.360155953, -0.795612727))
            Line((5.360155953, -0.795612727), (6.297861167, -0.795612727))
            ThreePointArc((6.297861167, -0.795612727), (6.58070388, -0.912770014), (6.697861167, -1.195612727))
        make_face()
    # profile 5 of 6: a face of its own
    with BuildSketch(Plane(origin=(0, 0, 0), x_dir=(1, 0, 0), z_dir=(0, 1, 0))):
        with BuildLine():
            ThreePointArc((0.682985448, -2.610099174), (1.548942895, -2.75), (2.414900342, -2.610099174))
            ThreePointArc((2.414900342, -2.610099174), (2.667976494, -2.358251088), (2.619069477, -2.004580194))
            ThreePointArc((2.619069477, -2.004580194), (1.998942895, 0), (2.619069477, 2.004580194))
            ThreePointArc((2.619069477, 2.004580194), (2.667976494, 2.358251088), (2.414900342, 2.610099174))
            ThreePointArc((2.414900342, 2.610099174), (1.548942895, 2.75), (0.682985448, 2.610099174))
            ThreePointArc((0.682985448, 2.610099174), (0.429909296, 2.358251088), (0.478816313, 2.004580194))
            ThreePointArc((0.478816313, 2.004580194), (1.098942895, 0), (0.478816313, -2.004580194))
            ThreePointArc((0.478816313, -2.004580194), (0.429909296, -2.358251088), (0.682985448, -2.610099174))
        make_face()
    # profile 6 of 6: a face of its own
    with BuildSketch(Plane(origin=(0, 0, 0), x_dir=(1, 0, 0), z_dir=(0, 1, 0))):
        with BuildLine():
            ThreePointArc((12.332973137, -2.610099174), (13.198930584, -2.75), (14.06488803, -2.610099174))
            ThreePointArc((14.06488803, -2.610099174), (14.317964183, -2.358251088), (14.269057166, -2.004580194))
            ThreePointArc((14.269057166, -2.004580194), (13.648930584, 0), (14.269057166, 2.004580194))
            ThreePointArc((14.269057166, 2.004580194), (14.317964183, 2.358251088), (14.06488803, 2.610099174))
            ThreePointArc((14.06488803, 2.610099174), (13.198930584, 2.75), (12.332973137, 2.610099174))
            ThreePointArc((12.332973137, 2.610099174), (12.079896985, 2.358251088), (12.128804001, 2.004580194))
            ThreePointArc((12.128804001, 2.004580194), (12.748930584, 0), (12.128804001, -2.004580194))
            ThreePointArc((12.128804001, -2.004580194), (12.079896985, -2.358251088), (12.332973137, -2.610099174))
        make_face()
    extrude(amount=CUT_EXTRUDE1_DEPTH, mode=Mode.SUBTRACT)


with BuildPart() as body_2:
    # Sketch5 → Boss-Extrude3 (new body)
    with BuildSketch(Plane.XZ.offset(2)):
        with Locations((19.56, 0)):
            Circle(SKETCH5_R)
        with Locations((19.56, 0)):
            Circle(SKETCH5_R_2, mode=Mode.SUBTRACT)
    extrude(amount=BOSS_EXTRUDE3_DEPTH)

    # Sketch6 → Boss-Extrude4 (add)
    with BuildSketch(Plane.XZ.offset(9)):
        with BuildLine():
            Line((16.669151351, 1.119372185), (17.555056582, 0.776338773))
            ThreePointArc((17.555056582, 0.776338773), (19.553210169, 2.149989279), (21.56, 0.788986692))
            Line((21.56, 0.788986692), (22.44372093, 1.137608719))
            ThreePointArc((22.44372093, 1.137608719), (19.550210011, 3.099984541), (16.669151351, 1.119372185))
        make_face()
        with BuildLine():
            Line((17.555056582, -0.776338773), (16.669151351, -1.119372185))
            ThreePointArc((16.669151351, -1.119372185), (19.550210011, -3.099984541), (22.44372093, -1.137608719))
            Line((22.44372093, -1.137608719), (21.56, -0.788986692))
            ThreePointArc((21.56, -0.788986692), (19.553210169, -2.149989279), (17.555056582, -0.776338773))
        make_face()
    extrude(amount=BOSS_EXTRUDE4_DEPTH)


solid = Compound([part.part, body_2.part])
